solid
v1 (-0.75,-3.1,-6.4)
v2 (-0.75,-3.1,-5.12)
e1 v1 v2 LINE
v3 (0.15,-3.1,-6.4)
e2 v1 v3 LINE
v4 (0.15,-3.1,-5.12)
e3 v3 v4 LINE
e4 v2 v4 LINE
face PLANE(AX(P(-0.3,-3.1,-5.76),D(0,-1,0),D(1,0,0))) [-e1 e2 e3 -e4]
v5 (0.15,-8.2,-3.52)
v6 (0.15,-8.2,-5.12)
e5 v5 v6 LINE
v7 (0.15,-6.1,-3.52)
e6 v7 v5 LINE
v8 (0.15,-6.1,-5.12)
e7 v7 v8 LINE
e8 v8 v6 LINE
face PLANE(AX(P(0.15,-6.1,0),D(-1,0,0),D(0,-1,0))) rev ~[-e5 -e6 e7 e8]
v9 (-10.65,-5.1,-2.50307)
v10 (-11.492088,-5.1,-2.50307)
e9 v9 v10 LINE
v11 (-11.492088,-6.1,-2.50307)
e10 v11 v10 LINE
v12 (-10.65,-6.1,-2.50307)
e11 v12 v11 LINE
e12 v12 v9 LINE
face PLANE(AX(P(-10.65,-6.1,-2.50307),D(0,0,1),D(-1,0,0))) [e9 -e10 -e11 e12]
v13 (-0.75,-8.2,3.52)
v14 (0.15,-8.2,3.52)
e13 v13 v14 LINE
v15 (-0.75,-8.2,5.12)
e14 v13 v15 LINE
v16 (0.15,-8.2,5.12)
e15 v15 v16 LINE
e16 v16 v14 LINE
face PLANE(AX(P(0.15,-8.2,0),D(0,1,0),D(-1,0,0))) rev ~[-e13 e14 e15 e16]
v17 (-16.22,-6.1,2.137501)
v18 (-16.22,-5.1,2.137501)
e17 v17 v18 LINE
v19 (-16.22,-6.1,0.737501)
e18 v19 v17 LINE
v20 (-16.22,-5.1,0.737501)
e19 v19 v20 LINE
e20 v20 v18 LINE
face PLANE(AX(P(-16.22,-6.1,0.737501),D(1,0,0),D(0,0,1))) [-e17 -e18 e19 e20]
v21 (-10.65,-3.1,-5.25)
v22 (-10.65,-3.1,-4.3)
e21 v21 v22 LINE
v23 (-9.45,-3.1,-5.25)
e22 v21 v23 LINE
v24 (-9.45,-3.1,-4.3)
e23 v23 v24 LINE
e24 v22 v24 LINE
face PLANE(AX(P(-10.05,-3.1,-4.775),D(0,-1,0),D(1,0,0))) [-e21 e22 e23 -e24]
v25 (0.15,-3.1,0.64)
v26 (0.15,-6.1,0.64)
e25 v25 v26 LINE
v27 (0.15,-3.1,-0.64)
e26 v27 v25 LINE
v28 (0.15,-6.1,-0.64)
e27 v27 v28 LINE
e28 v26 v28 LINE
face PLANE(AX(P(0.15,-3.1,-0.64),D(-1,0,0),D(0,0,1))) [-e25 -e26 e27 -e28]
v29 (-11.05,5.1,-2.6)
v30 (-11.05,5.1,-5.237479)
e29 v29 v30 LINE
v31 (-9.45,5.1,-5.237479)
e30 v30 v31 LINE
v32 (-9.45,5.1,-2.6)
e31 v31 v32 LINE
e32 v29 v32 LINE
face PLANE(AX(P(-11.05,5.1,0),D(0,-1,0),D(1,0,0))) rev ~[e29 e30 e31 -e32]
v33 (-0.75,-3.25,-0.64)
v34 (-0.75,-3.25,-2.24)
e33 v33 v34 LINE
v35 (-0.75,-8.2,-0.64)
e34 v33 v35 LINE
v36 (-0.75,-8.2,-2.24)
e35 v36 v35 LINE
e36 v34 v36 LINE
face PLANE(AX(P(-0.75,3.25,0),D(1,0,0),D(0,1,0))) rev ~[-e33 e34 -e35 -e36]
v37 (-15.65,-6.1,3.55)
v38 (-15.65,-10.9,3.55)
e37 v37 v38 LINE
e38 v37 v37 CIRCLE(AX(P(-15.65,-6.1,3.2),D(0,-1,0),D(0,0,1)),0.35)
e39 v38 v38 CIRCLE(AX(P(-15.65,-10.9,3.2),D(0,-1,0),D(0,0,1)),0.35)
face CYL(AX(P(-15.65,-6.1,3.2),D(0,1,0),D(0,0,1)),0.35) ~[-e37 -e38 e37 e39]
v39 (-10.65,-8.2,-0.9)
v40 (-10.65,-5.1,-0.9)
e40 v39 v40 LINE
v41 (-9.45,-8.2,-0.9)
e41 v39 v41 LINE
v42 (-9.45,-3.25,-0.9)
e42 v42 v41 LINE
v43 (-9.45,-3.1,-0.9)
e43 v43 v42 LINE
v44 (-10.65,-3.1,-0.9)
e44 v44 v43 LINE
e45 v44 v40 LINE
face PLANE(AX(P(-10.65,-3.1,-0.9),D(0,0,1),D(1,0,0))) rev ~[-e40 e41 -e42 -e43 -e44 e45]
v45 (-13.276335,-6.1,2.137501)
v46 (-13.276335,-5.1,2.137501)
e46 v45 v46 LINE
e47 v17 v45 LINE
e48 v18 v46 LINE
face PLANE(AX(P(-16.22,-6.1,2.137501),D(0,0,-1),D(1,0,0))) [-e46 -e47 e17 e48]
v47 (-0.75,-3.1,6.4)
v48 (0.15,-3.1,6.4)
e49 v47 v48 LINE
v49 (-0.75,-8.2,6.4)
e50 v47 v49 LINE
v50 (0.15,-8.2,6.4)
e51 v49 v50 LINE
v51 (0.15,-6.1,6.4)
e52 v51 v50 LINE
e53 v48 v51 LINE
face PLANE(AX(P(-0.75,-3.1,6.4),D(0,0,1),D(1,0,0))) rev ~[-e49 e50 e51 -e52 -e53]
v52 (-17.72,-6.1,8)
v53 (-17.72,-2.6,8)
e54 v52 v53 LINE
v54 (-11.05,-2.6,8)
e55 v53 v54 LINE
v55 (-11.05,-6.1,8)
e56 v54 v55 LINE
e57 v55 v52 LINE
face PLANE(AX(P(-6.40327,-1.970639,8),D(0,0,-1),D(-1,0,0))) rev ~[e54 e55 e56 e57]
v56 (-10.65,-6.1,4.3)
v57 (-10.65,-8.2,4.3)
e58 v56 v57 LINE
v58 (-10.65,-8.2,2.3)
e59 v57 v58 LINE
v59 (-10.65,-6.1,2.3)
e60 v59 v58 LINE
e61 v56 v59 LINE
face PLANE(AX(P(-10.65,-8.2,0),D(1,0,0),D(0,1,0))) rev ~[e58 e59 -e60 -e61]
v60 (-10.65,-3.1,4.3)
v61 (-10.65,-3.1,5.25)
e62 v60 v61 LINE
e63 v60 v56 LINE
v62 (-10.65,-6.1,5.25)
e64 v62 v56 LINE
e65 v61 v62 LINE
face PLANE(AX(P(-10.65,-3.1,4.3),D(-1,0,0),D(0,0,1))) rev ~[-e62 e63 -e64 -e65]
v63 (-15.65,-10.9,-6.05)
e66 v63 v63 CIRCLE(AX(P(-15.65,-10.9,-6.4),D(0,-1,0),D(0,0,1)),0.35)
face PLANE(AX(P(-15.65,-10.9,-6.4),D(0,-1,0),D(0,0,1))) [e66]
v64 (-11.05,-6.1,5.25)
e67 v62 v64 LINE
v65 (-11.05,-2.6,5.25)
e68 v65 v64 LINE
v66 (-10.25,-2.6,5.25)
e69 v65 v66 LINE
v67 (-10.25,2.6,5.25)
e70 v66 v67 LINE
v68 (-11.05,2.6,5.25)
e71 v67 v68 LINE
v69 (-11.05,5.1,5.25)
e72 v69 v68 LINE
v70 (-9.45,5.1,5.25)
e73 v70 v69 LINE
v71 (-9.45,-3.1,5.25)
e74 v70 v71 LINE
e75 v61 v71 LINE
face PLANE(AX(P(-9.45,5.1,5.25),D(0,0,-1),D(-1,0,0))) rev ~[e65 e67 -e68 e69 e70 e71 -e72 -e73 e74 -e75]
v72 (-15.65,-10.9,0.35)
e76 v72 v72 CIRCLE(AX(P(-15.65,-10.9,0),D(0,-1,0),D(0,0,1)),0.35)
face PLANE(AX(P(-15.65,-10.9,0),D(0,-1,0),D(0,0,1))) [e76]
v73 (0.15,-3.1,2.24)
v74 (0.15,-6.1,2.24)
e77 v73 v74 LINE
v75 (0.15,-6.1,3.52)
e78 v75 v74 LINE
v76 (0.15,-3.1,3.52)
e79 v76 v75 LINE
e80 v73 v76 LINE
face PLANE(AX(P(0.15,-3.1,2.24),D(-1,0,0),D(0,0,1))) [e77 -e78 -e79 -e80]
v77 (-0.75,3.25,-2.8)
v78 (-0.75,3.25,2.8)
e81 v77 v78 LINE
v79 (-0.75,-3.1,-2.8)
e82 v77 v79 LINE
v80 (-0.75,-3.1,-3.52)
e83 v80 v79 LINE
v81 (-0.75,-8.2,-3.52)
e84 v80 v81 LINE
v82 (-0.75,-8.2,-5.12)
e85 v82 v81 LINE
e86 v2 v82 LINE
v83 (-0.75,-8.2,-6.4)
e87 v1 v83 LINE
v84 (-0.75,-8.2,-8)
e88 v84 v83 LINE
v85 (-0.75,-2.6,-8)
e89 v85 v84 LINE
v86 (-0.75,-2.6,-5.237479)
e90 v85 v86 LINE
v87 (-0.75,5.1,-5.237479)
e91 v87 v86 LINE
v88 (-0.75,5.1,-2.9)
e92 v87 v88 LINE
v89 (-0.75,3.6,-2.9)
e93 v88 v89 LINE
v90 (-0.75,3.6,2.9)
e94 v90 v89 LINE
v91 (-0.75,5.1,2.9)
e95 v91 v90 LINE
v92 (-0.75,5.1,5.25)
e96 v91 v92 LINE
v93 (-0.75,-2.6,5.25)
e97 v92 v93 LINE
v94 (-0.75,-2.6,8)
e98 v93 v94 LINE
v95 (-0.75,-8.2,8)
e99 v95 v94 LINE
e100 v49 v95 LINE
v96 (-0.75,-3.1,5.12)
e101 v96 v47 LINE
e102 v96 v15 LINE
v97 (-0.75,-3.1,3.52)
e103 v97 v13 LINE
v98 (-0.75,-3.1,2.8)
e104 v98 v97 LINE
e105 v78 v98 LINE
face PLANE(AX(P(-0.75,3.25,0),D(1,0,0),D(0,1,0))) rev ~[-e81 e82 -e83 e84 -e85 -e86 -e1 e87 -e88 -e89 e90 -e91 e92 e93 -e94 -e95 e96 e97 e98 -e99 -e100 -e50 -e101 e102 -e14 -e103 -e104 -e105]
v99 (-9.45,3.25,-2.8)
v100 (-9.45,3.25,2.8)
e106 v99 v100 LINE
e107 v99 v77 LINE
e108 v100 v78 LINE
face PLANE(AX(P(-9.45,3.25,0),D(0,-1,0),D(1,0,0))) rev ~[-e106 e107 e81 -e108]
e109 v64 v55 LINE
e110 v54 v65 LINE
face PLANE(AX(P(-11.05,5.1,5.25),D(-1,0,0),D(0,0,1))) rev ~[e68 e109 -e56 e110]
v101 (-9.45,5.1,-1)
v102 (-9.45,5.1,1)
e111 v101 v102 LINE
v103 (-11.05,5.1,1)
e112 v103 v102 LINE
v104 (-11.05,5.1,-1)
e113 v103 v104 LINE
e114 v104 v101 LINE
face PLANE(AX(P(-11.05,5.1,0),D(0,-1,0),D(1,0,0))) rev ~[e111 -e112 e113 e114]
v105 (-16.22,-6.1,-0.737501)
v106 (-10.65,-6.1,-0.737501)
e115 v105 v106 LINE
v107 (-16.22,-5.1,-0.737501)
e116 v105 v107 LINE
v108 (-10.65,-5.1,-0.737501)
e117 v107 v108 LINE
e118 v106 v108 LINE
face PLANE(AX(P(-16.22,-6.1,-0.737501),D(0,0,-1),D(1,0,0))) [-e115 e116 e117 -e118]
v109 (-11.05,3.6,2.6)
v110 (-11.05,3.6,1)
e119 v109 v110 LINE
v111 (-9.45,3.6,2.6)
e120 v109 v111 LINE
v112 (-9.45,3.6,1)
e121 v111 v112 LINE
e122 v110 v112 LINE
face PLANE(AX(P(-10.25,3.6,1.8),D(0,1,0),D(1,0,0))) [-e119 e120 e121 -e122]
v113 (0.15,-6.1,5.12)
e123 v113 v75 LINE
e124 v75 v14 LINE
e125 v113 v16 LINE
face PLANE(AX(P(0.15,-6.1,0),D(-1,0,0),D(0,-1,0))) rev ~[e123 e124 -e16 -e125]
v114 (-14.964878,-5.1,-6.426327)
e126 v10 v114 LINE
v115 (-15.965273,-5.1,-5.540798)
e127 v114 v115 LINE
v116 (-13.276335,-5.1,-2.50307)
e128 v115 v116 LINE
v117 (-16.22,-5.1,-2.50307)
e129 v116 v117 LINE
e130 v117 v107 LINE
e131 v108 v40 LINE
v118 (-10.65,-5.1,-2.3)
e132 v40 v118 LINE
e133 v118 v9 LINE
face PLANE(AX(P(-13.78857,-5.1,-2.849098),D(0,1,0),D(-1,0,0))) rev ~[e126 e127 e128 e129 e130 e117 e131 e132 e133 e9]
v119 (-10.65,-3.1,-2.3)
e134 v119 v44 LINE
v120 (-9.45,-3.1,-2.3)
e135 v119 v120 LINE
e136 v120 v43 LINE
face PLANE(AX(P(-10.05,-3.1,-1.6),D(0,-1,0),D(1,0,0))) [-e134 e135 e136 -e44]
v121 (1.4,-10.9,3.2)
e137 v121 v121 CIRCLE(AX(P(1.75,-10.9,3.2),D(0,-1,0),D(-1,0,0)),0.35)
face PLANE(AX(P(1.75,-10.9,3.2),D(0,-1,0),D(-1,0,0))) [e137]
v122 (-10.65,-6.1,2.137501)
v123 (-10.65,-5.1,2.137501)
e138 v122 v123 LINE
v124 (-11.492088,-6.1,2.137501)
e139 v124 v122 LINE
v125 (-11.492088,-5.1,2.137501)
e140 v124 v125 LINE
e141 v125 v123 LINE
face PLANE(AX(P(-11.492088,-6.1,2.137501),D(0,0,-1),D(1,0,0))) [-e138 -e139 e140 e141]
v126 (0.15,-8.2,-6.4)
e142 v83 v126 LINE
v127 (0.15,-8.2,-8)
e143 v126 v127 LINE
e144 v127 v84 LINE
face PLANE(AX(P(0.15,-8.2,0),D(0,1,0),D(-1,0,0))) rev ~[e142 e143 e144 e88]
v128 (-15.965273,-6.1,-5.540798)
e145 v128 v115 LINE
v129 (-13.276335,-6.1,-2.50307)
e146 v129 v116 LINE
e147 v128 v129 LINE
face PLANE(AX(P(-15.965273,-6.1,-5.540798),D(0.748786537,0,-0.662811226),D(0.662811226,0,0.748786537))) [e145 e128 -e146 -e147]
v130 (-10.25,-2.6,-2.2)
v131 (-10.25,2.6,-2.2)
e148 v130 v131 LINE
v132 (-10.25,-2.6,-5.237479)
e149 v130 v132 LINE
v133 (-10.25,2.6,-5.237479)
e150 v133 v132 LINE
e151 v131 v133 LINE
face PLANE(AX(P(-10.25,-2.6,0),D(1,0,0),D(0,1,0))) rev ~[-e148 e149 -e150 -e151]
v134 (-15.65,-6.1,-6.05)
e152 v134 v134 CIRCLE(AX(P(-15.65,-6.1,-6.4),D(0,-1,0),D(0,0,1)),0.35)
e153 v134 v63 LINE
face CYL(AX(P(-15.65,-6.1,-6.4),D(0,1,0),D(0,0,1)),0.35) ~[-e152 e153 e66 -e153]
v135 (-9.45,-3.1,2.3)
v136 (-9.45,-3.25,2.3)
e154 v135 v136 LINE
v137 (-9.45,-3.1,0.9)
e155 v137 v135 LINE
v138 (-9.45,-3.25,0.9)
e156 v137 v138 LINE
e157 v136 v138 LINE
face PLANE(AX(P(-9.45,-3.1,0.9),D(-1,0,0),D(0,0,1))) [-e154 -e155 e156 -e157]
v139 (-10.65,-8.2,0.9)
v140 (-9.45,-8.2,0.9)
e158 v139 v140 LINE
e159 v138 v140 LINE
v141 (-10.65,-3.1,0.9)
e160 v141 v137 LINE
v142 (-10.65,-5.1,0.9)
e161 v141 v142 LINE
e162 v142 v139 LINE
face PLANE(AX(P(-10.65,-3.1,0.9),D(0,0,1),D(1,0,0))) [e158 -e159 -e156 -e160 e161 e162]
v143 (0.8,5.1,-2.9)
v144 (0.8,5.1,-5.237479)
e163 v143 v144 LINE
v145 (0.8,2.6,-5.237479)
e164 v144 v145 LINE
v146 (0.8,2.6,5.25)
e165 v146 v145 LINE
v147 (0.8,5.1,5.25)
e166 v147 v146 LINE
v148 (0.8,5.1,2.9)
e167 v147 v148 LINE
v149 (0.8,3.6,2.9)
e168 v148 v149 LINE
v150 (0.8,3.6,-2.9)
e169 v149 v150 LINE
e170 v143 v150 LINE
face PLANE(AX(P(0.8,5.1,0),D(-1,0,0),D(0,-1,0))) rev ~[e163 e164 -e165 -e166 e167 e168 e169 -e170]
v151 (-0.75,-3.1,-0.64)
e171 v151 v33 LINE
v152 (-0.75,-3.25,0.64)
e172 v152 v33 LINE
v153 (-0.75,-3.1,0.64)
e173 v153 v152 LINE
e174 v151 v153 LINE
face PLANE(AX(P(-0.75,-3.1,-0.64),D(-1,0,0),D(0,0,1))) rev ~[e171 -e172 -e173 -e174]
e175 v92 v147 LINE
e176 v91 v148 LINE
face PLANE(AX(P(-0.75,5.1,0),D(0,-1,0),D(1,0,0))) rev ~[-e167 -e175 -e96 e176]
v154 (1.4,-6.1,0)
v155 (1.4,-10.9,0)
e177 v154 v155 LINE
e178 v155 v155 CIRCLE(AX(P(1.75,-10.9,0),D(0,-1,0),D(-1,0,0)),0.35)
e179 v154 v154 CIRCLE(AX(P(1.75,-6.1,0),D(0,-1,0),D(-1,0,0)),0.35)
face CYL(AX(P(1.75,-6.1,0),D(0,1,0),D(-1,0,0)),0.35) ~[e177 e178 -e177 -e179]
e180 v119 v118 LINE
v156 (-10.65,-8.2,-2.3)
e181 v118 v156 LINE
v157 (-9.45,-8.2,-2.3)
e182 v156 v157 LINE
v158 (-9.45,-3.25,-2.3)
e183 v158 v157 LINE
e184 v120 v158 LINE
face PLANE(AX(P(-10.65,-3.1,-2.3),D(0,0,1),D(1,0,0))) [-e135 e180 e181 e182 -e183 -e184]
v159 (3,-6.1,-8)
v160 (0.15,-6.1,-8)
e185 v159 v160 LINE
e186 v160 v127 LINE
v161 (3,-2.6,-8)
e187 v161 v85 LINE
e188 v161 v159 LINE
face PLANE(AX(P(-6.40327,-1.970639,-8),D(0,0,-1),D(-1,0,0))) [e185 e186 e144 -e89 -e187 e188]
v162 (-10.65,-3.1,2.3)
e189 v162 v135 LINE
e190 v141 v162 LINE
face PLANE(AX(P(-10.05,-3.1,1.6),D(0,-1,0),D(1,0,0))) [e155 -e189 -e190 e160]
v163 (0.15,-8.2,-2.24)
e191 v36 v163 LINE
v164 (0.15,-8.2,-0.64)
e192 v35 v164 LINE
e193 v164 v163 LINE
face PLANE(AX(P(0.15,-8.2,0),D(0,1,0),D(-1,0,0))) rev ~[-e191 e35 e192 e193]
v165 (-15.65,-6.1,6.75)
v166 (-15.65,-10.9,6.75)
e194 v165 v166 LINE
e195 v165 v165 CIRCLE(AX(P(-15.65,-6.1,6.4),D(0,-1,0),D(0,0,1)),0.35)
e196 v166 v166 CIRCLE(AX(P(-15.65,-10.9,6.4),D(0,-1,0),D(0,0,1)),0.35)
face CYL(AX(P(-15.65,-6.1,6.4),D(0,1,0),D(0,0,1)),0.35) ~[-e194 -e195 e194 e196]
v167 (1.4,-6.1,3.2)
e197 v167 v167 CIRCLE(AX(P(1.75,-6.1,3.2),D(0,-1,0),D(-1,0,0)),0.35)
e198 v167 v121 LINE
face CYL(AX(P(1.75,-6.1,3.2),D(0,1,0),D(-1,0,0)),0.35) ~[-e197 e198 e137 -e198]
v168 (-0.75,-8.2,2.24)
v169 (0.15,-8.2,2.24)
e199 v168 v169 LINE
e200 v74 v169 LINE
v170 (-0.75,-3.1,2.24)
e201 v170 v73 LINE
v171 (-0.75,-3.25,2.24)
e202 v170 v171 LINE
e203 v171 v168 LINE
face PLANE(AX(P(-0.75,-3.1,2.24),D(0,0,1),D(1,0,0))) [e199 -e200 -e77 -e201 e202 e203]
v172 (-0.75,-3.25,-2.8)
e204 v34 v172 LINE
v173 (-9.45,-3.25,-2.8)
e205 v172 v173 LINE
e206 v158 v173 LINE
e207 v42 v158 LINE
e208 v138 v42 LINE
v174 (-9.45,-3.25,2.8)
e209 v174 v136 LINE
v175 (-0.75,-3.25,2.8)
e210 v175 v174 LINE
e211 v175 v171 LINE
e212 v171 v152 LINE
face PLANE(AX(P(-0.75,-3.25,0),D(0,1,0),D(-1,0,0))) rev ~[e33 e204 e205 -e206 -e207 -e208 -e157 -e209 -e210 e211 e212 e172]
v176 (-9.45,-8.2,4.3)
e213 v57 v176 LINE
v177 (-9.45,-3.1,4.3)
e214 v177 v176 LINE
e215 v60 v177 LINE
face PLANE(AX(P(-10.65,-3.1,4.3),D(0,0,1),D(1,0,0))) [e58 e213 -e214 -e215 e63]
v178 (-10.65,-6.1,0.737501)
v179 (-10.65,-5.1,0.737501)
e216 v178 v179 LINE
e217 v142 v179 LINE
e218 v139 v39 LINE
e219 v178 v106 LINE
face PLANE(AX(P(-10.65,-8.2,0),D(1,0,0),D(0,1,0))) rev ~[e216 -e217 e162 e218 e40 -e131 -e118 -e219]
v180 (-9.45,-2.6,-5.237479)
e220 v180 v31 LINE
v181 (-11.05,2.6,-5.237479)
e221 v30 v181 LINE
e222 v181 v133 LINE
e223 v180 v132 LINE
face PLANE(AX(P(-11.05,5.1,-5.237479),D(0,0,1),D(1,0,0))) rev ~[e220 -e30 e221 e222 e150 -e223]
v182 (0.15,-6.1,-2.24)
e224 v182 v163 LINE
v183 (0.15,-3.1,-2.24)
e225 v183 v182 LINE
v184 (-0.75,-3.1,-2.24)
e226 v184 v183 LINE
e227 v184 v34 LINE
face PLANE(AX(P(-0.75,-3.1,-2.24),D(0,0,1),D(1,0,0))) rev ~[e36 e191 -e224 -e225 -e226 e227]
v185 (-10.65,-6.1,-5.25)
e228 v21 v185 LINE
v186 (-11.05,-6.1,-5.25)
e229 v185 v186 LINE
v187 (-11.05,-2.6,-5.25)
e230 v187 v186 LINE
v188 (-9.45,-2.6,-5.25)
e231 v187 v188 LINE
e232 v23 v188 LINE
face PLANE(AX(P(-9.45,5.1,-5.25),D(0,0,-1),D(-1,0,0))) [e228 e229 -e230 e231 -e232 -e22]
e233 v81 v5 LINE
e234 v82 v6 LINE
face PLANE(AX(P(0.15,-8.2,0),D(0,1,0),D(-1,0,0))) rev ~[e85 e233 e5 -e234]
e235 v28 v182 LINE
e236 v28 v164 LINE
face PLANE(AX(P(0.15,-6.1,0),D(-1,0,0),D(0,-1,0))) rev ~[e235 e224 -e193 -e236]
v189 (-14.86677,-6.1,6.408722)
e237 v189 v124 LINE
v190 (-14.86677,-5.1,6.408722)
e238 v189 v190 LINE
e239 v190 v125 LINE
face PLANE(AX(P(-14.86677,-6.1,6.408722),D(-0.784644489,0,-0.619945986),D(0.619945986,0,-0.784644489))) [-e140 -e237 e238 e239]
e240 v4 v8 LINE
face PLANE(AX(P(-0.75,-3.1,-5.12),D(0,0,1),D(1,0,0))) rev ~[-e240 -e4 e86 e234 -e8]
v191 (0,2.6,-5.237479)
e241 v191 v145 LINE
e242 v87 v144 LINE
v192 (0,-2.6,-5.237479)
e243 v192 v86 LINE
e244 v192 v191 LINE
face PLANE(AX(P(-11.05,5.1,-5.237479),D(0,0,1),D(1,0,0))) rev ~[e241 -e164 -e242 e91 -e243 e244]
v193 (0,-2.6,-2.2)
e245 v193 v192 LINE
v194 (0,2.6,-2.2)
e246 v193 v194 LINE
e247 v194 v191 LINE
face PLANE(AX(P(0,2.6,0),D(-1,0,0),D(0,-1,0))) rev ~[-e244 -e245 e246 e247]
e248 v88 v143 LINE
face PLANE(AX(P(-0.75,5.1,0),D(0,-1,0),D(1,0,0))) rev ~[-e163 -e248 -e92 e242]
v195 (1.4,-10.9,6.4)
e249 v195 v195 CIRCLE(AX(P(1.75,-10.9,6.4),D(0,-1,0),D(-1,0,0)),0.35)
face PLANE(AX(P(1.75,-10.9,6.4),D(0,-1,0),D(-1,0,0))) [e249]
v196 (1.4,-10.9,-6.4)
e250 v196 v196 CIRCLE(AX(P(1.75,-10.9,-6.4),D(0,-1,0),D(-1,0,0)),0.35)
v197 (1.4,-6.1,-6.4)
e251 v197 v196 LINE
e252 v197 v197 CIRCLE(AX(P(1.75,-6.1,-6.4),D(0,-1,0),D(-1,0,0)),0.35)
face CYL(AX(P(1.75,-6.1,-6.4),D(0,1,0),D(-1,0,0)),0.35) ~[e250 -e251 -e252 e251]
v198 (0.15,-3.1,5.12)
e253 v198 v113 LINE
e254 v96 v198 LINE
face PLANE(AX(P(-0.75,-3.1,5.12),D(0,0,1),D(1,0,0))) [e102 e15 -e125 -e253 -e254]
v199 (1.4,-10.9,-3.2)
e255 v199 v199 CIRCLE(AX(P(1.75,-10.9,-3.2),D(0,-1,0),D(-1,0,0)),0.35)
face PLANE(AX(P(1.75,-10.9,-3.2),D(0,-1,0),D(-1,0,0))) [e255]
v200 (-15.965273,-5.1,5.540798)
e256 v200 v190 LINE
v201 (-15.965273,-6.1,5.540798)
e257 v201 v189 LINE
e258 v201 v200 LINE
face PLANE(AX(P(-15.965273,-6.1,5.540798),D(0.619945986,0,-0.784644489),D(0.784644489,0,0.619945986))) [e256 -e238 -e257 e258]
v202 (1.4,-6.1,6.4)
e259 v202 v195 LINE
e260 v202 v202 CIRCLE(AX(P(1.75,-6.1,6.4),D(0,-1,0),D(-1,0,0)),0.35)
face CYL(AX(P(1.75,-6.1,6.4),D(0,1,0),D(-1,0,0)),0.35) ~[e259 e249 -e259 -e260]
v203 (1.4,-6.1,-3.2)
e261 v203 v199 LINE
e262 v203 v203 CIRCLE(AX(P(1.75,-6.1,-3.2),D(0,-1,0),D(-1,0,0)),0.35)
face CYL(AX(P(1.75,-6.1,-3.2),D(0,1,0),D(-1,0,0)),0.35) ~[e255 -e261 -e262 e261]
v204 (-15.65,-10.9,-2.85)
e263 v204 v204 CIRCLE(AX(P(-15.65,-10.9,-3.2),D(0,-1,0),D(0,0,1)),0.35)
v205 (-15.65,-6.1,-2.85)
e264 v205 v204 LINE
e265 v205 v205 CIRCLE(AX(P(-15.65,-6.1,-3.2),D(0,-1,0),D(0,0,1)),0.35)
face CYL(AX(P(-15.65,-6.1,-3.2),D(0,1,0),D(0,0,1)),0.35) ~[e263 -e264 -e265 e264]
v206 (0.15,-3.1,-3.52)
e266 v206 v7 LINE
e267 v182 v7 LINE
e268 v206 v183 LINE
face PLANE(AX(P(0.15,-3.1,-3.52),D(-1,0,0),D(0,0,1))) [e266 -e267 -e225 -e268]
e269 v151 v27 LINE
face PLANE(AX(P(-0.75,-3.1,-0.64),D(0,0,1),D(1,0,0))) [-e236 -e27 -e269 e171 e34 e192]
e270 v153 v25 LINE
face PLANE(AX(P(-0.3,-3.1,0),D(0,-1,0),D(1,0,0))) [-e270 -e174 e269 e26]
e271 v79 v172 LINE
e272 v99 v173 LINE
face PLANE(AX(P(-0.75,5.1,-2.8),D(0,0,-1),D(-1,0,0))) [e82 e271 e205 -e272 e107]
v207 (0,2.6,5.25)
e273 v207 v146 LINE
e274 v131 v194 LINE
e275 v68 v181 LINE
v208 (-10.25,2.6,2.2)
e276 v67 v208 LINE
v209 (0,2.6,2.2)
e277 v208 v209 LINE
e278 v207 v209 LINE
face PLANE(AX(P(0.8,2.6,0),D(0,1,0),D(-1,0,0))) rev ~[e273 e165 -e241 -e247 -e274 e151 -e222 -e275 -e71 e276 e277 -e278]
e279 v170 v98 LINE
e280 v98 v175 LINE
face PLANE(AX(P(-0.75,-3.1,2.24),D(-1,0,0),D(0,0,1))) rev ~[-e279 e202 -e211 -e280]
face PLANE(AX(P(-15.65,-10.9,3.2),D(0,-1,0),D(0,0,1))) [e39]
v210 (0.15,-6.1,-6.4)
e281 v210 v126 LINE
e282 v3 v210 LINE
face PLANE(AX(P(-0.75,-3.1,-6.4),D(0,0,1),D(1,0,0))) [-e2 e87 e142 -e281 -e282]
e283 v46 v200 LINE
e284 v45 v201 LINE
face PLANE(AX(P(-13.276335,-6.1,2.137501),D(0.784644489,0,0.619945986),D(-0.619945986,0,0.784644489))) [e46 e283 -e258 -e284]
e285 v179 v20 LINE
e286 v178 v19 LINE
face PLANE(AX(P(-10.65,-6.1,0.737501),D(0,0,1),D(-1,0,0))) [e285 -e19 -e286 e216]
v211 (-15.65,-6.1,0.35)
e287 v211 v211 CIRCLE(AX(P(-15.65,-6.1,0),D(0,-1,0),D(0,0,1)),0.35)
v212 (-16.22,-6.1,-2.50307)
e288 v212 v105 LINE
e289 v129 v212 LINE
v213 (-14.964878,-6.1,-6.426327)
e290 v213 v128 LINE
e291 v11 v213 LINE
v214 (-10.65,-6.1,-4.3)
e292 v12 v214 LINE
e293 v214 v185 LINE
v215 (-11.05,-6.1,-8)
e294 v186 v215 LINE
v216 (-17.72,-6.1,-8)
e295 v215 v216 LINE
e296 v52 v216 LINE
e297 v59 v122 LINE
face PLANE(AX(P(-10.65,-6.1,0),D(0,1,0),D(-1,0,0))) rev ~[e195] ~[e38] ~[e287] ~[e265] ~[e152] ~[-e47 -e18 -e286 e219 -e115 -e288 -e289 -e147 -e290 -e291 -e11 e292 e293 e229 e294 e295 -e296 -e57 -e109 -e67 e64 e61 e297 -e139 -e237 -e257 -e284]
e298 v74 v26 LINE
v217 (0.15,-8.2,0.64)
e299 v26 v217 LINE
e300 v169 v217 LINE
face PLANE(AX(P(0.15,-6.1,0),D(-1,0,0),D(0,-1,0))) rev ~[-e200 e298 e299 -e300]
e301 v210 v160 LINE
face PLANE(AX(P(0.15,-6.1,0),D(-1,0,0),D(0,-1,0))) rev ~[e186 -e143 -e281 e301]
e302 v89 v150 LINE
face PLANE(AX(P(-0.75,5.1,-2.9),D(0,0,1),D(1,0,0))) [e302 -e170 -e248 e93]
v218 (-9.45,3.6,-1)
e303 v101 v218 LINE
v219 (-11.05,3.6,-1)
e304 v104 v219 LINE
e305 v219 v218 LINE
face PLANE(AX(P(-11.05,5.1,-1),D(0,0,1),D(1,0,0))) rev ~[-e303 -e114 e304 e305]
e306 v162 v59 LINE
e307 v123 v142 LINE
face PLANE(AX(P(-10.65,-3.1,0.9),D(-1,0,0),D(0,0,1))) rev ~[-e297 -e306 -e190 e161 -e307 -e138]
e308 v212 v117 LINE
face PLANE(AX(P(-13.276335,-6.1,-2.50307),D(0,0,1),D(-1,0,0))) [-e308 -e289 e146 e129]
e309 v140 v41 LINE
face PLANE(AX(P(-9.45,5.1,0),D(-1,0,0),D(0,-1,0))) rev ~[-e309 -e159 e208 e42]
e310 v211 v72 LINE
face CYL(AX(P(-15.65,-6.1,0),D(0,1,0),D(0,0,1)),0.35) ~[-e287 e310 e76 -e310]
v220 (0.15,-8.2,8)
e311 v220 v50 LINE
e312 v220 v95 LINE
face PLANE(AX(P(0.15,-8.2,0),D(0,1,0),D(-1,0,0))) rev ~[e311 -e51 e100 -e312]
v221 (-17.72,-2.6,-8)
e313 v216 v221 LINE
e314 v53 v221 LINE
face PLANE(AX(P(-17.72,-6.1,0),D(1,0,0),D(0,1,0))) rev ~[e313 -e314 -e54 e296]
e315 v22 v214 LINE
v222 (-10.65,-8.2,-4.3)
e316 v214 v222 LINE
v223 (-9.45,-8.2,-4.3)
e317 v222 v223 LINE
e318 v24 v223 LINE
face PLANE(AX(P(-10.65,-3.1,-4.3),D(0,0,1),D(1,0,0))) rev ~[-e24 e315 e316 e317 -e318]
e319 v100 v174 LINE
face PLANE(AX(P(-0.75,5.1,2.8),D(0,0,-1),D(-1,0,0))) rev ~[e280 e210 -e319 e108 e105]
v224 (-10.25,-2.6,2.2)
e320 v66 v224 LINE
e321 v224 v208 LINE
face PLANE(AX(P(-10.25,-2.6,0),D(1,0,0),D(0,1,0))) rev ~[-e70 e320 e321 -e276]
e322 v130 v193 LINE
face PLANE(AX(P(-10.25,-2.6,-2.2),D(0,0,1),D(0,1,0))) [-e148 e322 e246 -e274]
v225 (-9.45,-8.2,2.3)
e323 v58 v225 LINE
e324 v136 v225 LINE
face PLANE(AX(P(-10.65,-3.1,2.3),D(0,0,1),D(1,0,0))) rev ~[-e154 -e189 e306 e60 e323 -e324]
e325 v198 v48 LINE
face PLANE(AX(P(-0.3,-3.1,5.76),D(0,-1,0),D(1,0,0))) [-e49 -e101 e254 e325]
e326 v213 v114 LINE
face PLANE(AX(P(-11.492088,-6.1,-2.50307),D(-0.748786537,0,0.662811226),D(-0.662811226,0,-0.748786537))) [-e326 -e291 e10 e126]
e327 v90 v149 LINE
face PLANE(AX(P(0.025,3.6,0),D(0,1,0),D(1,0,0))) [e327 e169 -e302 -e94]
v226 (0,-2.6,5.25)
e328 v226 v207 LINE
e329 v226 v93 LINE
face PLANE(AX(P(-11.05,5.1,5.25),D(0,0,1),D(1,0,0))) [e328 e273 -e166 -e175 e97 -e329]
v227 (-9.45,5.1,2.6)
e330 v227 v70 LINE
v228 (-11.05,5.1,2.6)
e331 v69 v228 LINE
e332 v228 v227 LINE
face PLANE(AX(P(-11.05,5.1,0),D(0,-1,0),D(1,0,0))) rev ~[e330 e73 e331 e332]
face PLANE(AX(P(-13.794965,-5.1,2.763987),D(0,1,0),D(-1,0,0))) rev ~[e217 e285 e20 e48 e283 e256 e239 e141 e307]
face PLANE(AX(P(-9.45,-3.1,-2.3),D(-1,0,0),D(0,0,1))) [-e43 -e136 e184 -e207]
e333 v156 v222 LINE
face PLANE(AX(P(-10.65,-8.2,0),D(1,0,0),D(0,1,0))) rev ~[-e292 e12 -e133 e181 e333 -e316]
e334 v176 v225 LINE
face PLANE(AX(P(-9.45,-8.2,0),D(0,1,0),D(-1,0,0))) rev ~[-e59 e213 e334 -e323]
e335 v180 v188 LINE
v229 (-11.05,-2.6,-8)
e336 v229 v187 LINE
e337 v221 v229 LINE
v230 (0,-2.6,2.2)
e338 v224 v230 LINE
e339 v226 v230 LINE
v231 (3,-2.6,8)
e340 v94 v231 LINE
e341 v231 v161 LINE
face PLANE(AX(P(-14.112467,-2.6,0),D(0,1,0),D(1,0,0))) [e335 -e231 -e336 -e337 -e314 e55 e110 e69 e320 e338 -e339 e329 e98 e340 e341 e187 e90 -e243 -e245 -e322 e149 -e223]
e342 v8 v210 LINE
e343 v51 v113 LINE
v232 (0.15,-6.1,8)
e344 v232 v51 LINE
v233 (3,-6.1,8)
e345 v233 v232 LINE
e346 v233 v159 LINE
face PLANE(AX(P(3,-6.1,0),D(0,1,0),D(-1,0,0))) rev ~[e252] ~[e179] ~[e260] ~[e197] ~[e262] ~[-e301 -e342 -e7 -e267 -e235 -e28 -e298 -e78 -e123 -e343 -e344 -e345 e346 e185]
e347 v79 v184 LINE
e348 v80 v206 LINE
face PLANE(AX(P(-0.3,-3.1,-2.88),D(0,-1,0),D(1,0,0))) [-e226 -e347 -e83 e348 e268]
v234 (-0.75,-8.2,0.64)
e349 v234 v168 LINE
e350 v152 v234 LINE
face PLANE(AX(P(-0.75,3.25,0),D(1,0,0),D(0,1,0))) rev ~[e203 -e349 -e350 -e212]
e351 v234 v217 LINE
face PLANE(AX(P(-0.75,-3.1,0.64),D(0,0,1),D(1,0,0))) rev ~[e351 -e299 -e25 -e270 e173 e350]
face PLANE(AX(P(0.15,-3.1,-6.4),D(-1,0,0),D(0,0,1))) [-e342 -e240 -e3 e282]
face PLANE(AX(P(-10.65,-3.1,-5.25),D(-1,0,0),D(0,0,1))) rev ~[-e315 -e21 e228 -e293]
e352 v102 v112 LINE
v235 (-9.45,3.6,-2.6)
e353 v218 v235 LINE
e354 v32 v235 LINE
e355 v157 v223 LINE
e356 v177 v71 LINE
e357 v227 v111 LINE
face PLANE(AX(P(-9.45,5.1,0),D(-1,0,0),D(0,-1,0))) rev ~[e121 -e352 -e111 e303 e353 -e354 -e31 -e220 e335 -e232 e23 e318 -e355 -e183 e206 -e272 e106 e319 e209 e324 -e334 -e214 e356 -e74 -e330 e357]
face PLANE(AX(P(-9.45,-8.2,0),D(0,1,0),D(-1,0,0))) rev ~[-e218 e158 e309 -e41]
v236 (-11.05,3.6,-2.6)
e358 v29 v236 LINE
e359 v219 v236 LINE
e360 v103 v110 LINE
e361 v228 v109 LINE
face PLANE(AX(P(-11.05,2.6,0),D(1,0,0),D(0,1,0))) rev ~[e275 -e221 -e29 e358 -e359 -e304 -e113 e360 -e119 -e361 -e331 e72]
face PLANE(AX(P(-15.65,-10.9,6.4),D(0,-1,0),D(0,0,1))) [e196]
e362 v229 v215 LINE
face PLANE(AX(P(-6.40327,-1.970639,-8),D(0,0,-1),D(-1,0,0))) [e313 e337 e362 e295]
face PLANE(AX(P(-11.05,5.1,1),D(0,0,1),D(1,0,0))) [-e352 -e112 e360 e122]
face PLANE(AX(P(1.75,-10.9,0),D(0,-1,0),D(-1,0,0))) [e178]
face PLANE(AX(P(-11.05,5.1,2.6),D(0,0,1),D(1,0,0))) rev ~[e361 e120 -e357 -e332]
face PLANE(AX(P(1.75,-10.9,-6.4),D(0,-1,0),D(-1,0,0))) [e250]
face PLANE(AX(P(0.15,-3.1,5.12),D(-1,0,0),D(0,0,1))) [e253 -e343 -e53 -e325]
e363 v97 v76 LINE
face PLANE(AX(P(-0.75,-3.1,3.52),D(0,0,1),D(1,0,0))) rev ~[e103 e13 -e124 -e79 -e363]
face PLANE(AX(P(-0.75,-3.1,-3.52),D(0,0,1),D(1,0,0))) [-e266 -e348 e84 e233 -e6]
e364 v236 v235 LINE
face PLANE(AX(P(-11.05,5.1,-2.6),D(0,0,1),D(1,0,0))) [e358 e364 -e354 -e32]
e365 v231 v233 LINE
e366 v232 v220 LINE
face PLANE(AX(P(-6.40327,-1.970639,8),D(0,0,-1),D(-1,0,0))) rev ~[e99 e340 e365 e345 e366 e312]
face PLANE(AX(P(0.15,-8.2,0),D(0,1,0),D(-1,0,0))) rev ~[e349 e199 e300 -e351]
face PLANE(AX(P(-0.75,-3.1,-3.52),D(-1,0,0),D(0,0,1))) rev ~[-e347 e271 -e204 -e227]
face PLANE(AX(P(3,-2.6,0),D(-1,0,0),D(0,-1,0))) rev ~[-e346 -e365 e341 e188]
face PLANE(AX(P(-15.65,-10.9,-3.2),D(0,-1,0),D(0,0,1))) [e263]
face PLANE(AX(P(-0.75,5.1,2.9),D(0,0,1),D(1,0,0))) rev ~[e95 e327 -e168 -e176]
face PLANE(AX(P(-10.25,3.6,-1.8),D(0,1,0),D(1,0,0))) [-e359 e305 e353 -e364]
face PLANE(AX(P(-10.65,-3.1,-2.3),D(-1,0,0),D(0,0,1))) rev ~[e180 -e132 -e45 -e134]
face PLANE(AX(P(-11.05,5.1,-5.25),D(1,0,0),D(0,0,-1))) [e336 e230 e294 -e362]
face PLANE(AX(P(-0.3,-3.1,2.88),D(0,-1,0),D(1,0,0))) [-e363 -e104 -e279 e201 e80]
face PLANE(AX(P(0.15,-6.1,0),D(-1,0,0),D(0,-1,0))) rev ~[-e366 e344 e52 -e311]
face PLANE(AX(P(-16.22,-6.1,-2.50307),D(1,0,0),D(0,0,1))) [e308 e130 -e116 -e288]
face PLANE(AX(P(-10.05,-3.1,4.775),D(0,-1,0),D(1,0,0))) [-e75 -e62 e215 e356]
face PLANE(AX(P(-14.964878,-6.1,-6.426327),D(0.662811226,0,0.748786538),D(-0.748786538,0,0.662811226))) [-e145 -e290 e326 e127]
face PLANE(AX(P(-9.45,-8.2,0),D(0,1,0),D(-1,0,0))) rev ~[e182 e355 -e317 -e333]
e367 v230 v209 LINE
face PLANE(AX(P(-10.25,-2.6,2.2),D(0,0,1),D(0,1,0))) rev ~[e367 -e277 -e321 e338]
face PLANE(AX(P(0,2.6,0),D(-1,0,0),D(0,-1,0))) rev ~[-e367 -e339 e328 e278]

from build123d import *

# Parameters (mm, degrees)
EXTRUDE_1_DEPTH          = 8
CUT_EXTRUDE_1_DEPTH      = 24.556069282
CUT_EXTRUDE_2_REACH      = 25.556
SKETCH_3_W               = 11.85
SKETCH_3_H               = 2.762520892
SKETCH_3_H_2             = 2.75
CUT_EXTRUDE_3_DEPTH      = 10
CUT_EXTRUDE_3_DEPTH_BACK = 3
SKETCH_4_W               = 1.2
SKETCH_4_H               = 1.4
SKETCH_4_W_2             = 0.9
SKETCH_4_H_2             = 1.28
SKETCH_4_H_3             = 0.95
SKETCH_5_R               = 0.35
EXTRUDE_2_DEPTH          = 4.8
CUT_EXTRUDE_4_DEPTH      = 1
SKETCH_7_W               = 4.4
SKETCH_7_H               = 5.2
CUT_EXTRUDE_5_DEPTH      = 19.930728988
SKETCH_8_W               = 1.6
SKETCH_8_H               = 1.6
SKETCH_8_W_2             = 1.55
SKETCH_8_H_2             = 5.8
CUT_EXTRUDE_6_DEPTH      = 1.5


with BuildPart() as part:
    # 草图1 → 凸台-拉伸1 (new, symmetric)
    with BuildSketch(Plane.XY):
        Polygon((-0.75, 5.1), (0.8, 5.1), (0.8, 2.6), (0, 2.6), (0, -2.6), (3, -2.6), (3, -6.1), (0.15, -6.1), (0.15, -8.2), (-0.75, -8.2), (-0.75, -3.25), (-9.45, -3.25), (-9.45, -8.2), (-10.65, -8.2), (-10.65, -6.1), (-17.72, -6.1), (-17.72, -2.6), (-10.25, -2.6), (-10.25, 2.6), (-11.05, 2.6), (-11.05, 5.1), (-9.45, 5.1), (-9.45, 3.25), (-0.75, 3.25), align=None)
    extrude(amount=EXTRUDE_1_DEPTH, both=True)

    # 草图2 → 切除-拉伸1 (cut, through all)
    with BuildSketch(Plane(origin=(0, 5.1, 0), x_dir=(1, 0, 0), z_dir=(0, 1, 0))):
        Polygon((-11.05, 8.719427198), (-0.75, 8.719427198), (-0.75, 2.8), (-9.45, 2.8), (-9.45, 5.25), (-11.05, 5.25), align=None)
        Polygon((-11.05, -8), (-0.75, -8), (-0.75, -2.8), (-9.45, -2.8), (-9.45, -5.25), (-11.05, -5.25), align=None)
    extrude(amount=-CUT_EXTRUDE_1_DEPTH, mode=Mode.SUBTRACT)

    # 切除-拉伸2: up to this face of the body (flat: up to its plane)
    cut_extrude_2_end = Plane(part.part.faces().sort_by_distance((-14.112466991, -2.6, 0))[0])
    # 草图3 → 切除-拉伸2 (cut, up to the picked face)
    with BuildSketch(Plane(origin=(0, 5.1, 0), x_dir=(1, 0, 0), z_dir=(0, 1, 0)), mode=Mode.PRIVATE) as cut_extrude_2_sk1:
        with Locations((-5.125, 6.618739554)):
            Rectangle(SKETCH_3_W, SKETCH_3_H)
    cut_extrude_2_tool1 = split(extrude(cut_extrude_2_sk1.sketch, amount=-CUT_EXTRUDE_2_REACH, mode=Mode.PRIVATE), bisect_by=cut_extrude_2_end, keep=Keep.BOTH, mode=Mode.PRIVATE)
    # 草图3 → 切除-拉伸2 (cut, up to the picked face)
    with BuildSketch(Plane(origin=(0, 5.1, 0), x_dir=(1, 0, 0), z_dir=(0, 1, 0)), mode=Mode.PRIVATE) as cut_extrude_2_sk2:
        with Locations((-5.125, -6.625)):
            Rectangle(SKETCH_3_W, SKETCH_3_H_2)
    cut_extrude_2_tool2 = split(extrude(cut_extrude_2_sk2.sketch, amount=-CUT_EXTRUDE_2_REACH, mode=Mode.PRIVATE), bisect_by=cut_extrude_2_end, keep=Keep.BOTH, mode=Mode.PRIVATE)
    add(cut_extrude_2_tool1.solids().sort_by(Axis((-5.125, 5.1, -6.61874), (0, -1, 0)))[0], mode=Mode.SUBTRACT)
    add(cut_extrude_2_tool2.solids().sort_by(Axis((-5.125, 5.1, 6.625), (0, -1, 0)))[0], mode=Mode.SUBTRACT)

    # 草图4 → 切除-拉伸3 (cut, two sides: drawn at the far end of the back side and taken through both)
    with BuildSketch(Plane.XZ.offset(6.1).offset(-CUT_EXTRUDE_3_DEPTH_BACK)):
        with Locations((-10.05, 1.6)):
            Rectangle(SKETCH_4_W, SKETCH_4_H)
        with Locations((-10.05, -1.6)):
            Rectangle(SKETCH_4_W, SKETCH_4_H)
        with Locations((-0.3, 2.88)):
            Rectangle(SKETCH_4_W_2, SKETCH_4_H_2)
        with Locations((-0.3, -2.88)):
            Rectangle(SKETCH_4_W_2, SKETCH_4_H_2)
        with Locations((-0.3, 0)):
            Rectangle(SKETCH_4_W_2, SKETCH_4_H_2)
        with Locations((-0.3, 5.76)):
            Rectangle(SKETCH_4_W_2, SKETCH_4_H_2)
        with Locations((-0.3, -5.76)):
            Rectangle(SKETCH_4_W_2, SKETCH_4_H_2)
        with Locations((-10.05, 4.775)):
            Rectangle(SKETCH_4_W, SKETCH_4_H_3)
        with Locations((-10.05, -4.775)):
            Rectangle(SKETCH_4_W, SKETCH_4_H_3)
    extrude(amount=CUT_EXTRUDE_3_DEPTH + CUT_EXTRUDE_3_DEPTH_BACK, mode=Mode.SUBTRACT)

    # 草图5 → 凸台-拉伸2 (add)
    with BuildSketch(Plane.XZ.offset(6.1)):
        with Locations(Location((-15.65, 0, 0), (0, 0, 90))):
            Circle(SKETCH_5_R)
        with Locations(Location((-15.65, 3.2, 0), (0, 0, 90))):
            Circle(SKETCH_5_R)
        with Locations(Location((-15.65, 6.4, 0), (0, 0, 90))):
            Circle(SKETCH_5_R)
        with Locations(Location((-15.65, -3.2, 0), (0, 0, 90))):
            Circle(SKETCH_5_R)
        with Locations(Location((-15.65, -6.4, 0), (0, 0, 90))):
            Circle(SKETCH_5_R)
        with Locations(Location((1.75, 6.4, 0), (0, 0, 180))):
            Circle(SKETCH_5_R)
        with Locations(Location((1.75, 3.2, 0), (0, 0, 180))):
            Circle(SKETCH_5_R)
        with Locations(Location((1.75, 0, 0), (0, 0, 180))):
            Circle(SKETCH_5_R)
        with Locations(Location((1.75, -3.2, 0), (0, 0, 180))):
            Circle(SKETCH_5_R)
        with Locations(Location((1.75, -6.4, 0), (0, 0, 180))):
            Circle(SKETCH_5_R)
    extrude(amount=EXTRUDE_2_DEPTH)

    # 草图6 → 切除-拉伸4 (cut)
    with BuildSketch(Plane.XZ.offset(6.1)):
        Polygon((-16.22, 2.137501461), (-13.276335298, 2.137501461), (-15.965272543, 5.540797618), (-14.866770258, 6.408721998), (-11.492087758, 2.137501461), (-10.65, 2.137501461), (-10.65, 0.737501461), (-16.22, 0.737501461), align=None)
        Polygon((-16.22, -0.737501461), (-10.65, -0.737501461), (-10.65, -2.503069938), (-11.492087758, -2.503069938), (-14.964878351, -6.426327028), (-15.965272543, -5.540797618), (-13.276335298, -2.503069938), (-16.22, -2.503069938), align=None)
    extrude(amount=-CUT_EXTRUDE_4_DEPTH, mode=Mode.SUBTRACT)

    # 草图7 → 切除-拉伸5 (cut, through all)
    with BuildSketch(Plane.ZY.offset(10.25)):
        Rectangle(SKETCH_7_W, SKETCH_7_H)
    extrude(amount=-CUT_EXTRUDE_5_DEPTH, mode=Mode.SUBTRACT)

    # 草图8 → 切除-拉伸6 (cut)
    with BuildSketch(Plane(origin=(0, 5.1, 0), x_dir=(1, 0, 0), z_dir=(0, 1, 0))):
        with Locations((-10.25, 1.8)):
            Rectangle(SKETCH_8_W, SKETCH_8_H)
        with Locations((-10.25, -1.8)):
            Rectangle(SKETCH_8_W, SKETCH_8_H)
        with Locations((0.025, 0)):
            Rectangle(SKETCH_8_W_2, SKETCH_8_H_2)
    extrude(amount=-CUT_EXTRUDE_6_DEPTH, mode=Mode.SUBTRACT)


solid = part.part
